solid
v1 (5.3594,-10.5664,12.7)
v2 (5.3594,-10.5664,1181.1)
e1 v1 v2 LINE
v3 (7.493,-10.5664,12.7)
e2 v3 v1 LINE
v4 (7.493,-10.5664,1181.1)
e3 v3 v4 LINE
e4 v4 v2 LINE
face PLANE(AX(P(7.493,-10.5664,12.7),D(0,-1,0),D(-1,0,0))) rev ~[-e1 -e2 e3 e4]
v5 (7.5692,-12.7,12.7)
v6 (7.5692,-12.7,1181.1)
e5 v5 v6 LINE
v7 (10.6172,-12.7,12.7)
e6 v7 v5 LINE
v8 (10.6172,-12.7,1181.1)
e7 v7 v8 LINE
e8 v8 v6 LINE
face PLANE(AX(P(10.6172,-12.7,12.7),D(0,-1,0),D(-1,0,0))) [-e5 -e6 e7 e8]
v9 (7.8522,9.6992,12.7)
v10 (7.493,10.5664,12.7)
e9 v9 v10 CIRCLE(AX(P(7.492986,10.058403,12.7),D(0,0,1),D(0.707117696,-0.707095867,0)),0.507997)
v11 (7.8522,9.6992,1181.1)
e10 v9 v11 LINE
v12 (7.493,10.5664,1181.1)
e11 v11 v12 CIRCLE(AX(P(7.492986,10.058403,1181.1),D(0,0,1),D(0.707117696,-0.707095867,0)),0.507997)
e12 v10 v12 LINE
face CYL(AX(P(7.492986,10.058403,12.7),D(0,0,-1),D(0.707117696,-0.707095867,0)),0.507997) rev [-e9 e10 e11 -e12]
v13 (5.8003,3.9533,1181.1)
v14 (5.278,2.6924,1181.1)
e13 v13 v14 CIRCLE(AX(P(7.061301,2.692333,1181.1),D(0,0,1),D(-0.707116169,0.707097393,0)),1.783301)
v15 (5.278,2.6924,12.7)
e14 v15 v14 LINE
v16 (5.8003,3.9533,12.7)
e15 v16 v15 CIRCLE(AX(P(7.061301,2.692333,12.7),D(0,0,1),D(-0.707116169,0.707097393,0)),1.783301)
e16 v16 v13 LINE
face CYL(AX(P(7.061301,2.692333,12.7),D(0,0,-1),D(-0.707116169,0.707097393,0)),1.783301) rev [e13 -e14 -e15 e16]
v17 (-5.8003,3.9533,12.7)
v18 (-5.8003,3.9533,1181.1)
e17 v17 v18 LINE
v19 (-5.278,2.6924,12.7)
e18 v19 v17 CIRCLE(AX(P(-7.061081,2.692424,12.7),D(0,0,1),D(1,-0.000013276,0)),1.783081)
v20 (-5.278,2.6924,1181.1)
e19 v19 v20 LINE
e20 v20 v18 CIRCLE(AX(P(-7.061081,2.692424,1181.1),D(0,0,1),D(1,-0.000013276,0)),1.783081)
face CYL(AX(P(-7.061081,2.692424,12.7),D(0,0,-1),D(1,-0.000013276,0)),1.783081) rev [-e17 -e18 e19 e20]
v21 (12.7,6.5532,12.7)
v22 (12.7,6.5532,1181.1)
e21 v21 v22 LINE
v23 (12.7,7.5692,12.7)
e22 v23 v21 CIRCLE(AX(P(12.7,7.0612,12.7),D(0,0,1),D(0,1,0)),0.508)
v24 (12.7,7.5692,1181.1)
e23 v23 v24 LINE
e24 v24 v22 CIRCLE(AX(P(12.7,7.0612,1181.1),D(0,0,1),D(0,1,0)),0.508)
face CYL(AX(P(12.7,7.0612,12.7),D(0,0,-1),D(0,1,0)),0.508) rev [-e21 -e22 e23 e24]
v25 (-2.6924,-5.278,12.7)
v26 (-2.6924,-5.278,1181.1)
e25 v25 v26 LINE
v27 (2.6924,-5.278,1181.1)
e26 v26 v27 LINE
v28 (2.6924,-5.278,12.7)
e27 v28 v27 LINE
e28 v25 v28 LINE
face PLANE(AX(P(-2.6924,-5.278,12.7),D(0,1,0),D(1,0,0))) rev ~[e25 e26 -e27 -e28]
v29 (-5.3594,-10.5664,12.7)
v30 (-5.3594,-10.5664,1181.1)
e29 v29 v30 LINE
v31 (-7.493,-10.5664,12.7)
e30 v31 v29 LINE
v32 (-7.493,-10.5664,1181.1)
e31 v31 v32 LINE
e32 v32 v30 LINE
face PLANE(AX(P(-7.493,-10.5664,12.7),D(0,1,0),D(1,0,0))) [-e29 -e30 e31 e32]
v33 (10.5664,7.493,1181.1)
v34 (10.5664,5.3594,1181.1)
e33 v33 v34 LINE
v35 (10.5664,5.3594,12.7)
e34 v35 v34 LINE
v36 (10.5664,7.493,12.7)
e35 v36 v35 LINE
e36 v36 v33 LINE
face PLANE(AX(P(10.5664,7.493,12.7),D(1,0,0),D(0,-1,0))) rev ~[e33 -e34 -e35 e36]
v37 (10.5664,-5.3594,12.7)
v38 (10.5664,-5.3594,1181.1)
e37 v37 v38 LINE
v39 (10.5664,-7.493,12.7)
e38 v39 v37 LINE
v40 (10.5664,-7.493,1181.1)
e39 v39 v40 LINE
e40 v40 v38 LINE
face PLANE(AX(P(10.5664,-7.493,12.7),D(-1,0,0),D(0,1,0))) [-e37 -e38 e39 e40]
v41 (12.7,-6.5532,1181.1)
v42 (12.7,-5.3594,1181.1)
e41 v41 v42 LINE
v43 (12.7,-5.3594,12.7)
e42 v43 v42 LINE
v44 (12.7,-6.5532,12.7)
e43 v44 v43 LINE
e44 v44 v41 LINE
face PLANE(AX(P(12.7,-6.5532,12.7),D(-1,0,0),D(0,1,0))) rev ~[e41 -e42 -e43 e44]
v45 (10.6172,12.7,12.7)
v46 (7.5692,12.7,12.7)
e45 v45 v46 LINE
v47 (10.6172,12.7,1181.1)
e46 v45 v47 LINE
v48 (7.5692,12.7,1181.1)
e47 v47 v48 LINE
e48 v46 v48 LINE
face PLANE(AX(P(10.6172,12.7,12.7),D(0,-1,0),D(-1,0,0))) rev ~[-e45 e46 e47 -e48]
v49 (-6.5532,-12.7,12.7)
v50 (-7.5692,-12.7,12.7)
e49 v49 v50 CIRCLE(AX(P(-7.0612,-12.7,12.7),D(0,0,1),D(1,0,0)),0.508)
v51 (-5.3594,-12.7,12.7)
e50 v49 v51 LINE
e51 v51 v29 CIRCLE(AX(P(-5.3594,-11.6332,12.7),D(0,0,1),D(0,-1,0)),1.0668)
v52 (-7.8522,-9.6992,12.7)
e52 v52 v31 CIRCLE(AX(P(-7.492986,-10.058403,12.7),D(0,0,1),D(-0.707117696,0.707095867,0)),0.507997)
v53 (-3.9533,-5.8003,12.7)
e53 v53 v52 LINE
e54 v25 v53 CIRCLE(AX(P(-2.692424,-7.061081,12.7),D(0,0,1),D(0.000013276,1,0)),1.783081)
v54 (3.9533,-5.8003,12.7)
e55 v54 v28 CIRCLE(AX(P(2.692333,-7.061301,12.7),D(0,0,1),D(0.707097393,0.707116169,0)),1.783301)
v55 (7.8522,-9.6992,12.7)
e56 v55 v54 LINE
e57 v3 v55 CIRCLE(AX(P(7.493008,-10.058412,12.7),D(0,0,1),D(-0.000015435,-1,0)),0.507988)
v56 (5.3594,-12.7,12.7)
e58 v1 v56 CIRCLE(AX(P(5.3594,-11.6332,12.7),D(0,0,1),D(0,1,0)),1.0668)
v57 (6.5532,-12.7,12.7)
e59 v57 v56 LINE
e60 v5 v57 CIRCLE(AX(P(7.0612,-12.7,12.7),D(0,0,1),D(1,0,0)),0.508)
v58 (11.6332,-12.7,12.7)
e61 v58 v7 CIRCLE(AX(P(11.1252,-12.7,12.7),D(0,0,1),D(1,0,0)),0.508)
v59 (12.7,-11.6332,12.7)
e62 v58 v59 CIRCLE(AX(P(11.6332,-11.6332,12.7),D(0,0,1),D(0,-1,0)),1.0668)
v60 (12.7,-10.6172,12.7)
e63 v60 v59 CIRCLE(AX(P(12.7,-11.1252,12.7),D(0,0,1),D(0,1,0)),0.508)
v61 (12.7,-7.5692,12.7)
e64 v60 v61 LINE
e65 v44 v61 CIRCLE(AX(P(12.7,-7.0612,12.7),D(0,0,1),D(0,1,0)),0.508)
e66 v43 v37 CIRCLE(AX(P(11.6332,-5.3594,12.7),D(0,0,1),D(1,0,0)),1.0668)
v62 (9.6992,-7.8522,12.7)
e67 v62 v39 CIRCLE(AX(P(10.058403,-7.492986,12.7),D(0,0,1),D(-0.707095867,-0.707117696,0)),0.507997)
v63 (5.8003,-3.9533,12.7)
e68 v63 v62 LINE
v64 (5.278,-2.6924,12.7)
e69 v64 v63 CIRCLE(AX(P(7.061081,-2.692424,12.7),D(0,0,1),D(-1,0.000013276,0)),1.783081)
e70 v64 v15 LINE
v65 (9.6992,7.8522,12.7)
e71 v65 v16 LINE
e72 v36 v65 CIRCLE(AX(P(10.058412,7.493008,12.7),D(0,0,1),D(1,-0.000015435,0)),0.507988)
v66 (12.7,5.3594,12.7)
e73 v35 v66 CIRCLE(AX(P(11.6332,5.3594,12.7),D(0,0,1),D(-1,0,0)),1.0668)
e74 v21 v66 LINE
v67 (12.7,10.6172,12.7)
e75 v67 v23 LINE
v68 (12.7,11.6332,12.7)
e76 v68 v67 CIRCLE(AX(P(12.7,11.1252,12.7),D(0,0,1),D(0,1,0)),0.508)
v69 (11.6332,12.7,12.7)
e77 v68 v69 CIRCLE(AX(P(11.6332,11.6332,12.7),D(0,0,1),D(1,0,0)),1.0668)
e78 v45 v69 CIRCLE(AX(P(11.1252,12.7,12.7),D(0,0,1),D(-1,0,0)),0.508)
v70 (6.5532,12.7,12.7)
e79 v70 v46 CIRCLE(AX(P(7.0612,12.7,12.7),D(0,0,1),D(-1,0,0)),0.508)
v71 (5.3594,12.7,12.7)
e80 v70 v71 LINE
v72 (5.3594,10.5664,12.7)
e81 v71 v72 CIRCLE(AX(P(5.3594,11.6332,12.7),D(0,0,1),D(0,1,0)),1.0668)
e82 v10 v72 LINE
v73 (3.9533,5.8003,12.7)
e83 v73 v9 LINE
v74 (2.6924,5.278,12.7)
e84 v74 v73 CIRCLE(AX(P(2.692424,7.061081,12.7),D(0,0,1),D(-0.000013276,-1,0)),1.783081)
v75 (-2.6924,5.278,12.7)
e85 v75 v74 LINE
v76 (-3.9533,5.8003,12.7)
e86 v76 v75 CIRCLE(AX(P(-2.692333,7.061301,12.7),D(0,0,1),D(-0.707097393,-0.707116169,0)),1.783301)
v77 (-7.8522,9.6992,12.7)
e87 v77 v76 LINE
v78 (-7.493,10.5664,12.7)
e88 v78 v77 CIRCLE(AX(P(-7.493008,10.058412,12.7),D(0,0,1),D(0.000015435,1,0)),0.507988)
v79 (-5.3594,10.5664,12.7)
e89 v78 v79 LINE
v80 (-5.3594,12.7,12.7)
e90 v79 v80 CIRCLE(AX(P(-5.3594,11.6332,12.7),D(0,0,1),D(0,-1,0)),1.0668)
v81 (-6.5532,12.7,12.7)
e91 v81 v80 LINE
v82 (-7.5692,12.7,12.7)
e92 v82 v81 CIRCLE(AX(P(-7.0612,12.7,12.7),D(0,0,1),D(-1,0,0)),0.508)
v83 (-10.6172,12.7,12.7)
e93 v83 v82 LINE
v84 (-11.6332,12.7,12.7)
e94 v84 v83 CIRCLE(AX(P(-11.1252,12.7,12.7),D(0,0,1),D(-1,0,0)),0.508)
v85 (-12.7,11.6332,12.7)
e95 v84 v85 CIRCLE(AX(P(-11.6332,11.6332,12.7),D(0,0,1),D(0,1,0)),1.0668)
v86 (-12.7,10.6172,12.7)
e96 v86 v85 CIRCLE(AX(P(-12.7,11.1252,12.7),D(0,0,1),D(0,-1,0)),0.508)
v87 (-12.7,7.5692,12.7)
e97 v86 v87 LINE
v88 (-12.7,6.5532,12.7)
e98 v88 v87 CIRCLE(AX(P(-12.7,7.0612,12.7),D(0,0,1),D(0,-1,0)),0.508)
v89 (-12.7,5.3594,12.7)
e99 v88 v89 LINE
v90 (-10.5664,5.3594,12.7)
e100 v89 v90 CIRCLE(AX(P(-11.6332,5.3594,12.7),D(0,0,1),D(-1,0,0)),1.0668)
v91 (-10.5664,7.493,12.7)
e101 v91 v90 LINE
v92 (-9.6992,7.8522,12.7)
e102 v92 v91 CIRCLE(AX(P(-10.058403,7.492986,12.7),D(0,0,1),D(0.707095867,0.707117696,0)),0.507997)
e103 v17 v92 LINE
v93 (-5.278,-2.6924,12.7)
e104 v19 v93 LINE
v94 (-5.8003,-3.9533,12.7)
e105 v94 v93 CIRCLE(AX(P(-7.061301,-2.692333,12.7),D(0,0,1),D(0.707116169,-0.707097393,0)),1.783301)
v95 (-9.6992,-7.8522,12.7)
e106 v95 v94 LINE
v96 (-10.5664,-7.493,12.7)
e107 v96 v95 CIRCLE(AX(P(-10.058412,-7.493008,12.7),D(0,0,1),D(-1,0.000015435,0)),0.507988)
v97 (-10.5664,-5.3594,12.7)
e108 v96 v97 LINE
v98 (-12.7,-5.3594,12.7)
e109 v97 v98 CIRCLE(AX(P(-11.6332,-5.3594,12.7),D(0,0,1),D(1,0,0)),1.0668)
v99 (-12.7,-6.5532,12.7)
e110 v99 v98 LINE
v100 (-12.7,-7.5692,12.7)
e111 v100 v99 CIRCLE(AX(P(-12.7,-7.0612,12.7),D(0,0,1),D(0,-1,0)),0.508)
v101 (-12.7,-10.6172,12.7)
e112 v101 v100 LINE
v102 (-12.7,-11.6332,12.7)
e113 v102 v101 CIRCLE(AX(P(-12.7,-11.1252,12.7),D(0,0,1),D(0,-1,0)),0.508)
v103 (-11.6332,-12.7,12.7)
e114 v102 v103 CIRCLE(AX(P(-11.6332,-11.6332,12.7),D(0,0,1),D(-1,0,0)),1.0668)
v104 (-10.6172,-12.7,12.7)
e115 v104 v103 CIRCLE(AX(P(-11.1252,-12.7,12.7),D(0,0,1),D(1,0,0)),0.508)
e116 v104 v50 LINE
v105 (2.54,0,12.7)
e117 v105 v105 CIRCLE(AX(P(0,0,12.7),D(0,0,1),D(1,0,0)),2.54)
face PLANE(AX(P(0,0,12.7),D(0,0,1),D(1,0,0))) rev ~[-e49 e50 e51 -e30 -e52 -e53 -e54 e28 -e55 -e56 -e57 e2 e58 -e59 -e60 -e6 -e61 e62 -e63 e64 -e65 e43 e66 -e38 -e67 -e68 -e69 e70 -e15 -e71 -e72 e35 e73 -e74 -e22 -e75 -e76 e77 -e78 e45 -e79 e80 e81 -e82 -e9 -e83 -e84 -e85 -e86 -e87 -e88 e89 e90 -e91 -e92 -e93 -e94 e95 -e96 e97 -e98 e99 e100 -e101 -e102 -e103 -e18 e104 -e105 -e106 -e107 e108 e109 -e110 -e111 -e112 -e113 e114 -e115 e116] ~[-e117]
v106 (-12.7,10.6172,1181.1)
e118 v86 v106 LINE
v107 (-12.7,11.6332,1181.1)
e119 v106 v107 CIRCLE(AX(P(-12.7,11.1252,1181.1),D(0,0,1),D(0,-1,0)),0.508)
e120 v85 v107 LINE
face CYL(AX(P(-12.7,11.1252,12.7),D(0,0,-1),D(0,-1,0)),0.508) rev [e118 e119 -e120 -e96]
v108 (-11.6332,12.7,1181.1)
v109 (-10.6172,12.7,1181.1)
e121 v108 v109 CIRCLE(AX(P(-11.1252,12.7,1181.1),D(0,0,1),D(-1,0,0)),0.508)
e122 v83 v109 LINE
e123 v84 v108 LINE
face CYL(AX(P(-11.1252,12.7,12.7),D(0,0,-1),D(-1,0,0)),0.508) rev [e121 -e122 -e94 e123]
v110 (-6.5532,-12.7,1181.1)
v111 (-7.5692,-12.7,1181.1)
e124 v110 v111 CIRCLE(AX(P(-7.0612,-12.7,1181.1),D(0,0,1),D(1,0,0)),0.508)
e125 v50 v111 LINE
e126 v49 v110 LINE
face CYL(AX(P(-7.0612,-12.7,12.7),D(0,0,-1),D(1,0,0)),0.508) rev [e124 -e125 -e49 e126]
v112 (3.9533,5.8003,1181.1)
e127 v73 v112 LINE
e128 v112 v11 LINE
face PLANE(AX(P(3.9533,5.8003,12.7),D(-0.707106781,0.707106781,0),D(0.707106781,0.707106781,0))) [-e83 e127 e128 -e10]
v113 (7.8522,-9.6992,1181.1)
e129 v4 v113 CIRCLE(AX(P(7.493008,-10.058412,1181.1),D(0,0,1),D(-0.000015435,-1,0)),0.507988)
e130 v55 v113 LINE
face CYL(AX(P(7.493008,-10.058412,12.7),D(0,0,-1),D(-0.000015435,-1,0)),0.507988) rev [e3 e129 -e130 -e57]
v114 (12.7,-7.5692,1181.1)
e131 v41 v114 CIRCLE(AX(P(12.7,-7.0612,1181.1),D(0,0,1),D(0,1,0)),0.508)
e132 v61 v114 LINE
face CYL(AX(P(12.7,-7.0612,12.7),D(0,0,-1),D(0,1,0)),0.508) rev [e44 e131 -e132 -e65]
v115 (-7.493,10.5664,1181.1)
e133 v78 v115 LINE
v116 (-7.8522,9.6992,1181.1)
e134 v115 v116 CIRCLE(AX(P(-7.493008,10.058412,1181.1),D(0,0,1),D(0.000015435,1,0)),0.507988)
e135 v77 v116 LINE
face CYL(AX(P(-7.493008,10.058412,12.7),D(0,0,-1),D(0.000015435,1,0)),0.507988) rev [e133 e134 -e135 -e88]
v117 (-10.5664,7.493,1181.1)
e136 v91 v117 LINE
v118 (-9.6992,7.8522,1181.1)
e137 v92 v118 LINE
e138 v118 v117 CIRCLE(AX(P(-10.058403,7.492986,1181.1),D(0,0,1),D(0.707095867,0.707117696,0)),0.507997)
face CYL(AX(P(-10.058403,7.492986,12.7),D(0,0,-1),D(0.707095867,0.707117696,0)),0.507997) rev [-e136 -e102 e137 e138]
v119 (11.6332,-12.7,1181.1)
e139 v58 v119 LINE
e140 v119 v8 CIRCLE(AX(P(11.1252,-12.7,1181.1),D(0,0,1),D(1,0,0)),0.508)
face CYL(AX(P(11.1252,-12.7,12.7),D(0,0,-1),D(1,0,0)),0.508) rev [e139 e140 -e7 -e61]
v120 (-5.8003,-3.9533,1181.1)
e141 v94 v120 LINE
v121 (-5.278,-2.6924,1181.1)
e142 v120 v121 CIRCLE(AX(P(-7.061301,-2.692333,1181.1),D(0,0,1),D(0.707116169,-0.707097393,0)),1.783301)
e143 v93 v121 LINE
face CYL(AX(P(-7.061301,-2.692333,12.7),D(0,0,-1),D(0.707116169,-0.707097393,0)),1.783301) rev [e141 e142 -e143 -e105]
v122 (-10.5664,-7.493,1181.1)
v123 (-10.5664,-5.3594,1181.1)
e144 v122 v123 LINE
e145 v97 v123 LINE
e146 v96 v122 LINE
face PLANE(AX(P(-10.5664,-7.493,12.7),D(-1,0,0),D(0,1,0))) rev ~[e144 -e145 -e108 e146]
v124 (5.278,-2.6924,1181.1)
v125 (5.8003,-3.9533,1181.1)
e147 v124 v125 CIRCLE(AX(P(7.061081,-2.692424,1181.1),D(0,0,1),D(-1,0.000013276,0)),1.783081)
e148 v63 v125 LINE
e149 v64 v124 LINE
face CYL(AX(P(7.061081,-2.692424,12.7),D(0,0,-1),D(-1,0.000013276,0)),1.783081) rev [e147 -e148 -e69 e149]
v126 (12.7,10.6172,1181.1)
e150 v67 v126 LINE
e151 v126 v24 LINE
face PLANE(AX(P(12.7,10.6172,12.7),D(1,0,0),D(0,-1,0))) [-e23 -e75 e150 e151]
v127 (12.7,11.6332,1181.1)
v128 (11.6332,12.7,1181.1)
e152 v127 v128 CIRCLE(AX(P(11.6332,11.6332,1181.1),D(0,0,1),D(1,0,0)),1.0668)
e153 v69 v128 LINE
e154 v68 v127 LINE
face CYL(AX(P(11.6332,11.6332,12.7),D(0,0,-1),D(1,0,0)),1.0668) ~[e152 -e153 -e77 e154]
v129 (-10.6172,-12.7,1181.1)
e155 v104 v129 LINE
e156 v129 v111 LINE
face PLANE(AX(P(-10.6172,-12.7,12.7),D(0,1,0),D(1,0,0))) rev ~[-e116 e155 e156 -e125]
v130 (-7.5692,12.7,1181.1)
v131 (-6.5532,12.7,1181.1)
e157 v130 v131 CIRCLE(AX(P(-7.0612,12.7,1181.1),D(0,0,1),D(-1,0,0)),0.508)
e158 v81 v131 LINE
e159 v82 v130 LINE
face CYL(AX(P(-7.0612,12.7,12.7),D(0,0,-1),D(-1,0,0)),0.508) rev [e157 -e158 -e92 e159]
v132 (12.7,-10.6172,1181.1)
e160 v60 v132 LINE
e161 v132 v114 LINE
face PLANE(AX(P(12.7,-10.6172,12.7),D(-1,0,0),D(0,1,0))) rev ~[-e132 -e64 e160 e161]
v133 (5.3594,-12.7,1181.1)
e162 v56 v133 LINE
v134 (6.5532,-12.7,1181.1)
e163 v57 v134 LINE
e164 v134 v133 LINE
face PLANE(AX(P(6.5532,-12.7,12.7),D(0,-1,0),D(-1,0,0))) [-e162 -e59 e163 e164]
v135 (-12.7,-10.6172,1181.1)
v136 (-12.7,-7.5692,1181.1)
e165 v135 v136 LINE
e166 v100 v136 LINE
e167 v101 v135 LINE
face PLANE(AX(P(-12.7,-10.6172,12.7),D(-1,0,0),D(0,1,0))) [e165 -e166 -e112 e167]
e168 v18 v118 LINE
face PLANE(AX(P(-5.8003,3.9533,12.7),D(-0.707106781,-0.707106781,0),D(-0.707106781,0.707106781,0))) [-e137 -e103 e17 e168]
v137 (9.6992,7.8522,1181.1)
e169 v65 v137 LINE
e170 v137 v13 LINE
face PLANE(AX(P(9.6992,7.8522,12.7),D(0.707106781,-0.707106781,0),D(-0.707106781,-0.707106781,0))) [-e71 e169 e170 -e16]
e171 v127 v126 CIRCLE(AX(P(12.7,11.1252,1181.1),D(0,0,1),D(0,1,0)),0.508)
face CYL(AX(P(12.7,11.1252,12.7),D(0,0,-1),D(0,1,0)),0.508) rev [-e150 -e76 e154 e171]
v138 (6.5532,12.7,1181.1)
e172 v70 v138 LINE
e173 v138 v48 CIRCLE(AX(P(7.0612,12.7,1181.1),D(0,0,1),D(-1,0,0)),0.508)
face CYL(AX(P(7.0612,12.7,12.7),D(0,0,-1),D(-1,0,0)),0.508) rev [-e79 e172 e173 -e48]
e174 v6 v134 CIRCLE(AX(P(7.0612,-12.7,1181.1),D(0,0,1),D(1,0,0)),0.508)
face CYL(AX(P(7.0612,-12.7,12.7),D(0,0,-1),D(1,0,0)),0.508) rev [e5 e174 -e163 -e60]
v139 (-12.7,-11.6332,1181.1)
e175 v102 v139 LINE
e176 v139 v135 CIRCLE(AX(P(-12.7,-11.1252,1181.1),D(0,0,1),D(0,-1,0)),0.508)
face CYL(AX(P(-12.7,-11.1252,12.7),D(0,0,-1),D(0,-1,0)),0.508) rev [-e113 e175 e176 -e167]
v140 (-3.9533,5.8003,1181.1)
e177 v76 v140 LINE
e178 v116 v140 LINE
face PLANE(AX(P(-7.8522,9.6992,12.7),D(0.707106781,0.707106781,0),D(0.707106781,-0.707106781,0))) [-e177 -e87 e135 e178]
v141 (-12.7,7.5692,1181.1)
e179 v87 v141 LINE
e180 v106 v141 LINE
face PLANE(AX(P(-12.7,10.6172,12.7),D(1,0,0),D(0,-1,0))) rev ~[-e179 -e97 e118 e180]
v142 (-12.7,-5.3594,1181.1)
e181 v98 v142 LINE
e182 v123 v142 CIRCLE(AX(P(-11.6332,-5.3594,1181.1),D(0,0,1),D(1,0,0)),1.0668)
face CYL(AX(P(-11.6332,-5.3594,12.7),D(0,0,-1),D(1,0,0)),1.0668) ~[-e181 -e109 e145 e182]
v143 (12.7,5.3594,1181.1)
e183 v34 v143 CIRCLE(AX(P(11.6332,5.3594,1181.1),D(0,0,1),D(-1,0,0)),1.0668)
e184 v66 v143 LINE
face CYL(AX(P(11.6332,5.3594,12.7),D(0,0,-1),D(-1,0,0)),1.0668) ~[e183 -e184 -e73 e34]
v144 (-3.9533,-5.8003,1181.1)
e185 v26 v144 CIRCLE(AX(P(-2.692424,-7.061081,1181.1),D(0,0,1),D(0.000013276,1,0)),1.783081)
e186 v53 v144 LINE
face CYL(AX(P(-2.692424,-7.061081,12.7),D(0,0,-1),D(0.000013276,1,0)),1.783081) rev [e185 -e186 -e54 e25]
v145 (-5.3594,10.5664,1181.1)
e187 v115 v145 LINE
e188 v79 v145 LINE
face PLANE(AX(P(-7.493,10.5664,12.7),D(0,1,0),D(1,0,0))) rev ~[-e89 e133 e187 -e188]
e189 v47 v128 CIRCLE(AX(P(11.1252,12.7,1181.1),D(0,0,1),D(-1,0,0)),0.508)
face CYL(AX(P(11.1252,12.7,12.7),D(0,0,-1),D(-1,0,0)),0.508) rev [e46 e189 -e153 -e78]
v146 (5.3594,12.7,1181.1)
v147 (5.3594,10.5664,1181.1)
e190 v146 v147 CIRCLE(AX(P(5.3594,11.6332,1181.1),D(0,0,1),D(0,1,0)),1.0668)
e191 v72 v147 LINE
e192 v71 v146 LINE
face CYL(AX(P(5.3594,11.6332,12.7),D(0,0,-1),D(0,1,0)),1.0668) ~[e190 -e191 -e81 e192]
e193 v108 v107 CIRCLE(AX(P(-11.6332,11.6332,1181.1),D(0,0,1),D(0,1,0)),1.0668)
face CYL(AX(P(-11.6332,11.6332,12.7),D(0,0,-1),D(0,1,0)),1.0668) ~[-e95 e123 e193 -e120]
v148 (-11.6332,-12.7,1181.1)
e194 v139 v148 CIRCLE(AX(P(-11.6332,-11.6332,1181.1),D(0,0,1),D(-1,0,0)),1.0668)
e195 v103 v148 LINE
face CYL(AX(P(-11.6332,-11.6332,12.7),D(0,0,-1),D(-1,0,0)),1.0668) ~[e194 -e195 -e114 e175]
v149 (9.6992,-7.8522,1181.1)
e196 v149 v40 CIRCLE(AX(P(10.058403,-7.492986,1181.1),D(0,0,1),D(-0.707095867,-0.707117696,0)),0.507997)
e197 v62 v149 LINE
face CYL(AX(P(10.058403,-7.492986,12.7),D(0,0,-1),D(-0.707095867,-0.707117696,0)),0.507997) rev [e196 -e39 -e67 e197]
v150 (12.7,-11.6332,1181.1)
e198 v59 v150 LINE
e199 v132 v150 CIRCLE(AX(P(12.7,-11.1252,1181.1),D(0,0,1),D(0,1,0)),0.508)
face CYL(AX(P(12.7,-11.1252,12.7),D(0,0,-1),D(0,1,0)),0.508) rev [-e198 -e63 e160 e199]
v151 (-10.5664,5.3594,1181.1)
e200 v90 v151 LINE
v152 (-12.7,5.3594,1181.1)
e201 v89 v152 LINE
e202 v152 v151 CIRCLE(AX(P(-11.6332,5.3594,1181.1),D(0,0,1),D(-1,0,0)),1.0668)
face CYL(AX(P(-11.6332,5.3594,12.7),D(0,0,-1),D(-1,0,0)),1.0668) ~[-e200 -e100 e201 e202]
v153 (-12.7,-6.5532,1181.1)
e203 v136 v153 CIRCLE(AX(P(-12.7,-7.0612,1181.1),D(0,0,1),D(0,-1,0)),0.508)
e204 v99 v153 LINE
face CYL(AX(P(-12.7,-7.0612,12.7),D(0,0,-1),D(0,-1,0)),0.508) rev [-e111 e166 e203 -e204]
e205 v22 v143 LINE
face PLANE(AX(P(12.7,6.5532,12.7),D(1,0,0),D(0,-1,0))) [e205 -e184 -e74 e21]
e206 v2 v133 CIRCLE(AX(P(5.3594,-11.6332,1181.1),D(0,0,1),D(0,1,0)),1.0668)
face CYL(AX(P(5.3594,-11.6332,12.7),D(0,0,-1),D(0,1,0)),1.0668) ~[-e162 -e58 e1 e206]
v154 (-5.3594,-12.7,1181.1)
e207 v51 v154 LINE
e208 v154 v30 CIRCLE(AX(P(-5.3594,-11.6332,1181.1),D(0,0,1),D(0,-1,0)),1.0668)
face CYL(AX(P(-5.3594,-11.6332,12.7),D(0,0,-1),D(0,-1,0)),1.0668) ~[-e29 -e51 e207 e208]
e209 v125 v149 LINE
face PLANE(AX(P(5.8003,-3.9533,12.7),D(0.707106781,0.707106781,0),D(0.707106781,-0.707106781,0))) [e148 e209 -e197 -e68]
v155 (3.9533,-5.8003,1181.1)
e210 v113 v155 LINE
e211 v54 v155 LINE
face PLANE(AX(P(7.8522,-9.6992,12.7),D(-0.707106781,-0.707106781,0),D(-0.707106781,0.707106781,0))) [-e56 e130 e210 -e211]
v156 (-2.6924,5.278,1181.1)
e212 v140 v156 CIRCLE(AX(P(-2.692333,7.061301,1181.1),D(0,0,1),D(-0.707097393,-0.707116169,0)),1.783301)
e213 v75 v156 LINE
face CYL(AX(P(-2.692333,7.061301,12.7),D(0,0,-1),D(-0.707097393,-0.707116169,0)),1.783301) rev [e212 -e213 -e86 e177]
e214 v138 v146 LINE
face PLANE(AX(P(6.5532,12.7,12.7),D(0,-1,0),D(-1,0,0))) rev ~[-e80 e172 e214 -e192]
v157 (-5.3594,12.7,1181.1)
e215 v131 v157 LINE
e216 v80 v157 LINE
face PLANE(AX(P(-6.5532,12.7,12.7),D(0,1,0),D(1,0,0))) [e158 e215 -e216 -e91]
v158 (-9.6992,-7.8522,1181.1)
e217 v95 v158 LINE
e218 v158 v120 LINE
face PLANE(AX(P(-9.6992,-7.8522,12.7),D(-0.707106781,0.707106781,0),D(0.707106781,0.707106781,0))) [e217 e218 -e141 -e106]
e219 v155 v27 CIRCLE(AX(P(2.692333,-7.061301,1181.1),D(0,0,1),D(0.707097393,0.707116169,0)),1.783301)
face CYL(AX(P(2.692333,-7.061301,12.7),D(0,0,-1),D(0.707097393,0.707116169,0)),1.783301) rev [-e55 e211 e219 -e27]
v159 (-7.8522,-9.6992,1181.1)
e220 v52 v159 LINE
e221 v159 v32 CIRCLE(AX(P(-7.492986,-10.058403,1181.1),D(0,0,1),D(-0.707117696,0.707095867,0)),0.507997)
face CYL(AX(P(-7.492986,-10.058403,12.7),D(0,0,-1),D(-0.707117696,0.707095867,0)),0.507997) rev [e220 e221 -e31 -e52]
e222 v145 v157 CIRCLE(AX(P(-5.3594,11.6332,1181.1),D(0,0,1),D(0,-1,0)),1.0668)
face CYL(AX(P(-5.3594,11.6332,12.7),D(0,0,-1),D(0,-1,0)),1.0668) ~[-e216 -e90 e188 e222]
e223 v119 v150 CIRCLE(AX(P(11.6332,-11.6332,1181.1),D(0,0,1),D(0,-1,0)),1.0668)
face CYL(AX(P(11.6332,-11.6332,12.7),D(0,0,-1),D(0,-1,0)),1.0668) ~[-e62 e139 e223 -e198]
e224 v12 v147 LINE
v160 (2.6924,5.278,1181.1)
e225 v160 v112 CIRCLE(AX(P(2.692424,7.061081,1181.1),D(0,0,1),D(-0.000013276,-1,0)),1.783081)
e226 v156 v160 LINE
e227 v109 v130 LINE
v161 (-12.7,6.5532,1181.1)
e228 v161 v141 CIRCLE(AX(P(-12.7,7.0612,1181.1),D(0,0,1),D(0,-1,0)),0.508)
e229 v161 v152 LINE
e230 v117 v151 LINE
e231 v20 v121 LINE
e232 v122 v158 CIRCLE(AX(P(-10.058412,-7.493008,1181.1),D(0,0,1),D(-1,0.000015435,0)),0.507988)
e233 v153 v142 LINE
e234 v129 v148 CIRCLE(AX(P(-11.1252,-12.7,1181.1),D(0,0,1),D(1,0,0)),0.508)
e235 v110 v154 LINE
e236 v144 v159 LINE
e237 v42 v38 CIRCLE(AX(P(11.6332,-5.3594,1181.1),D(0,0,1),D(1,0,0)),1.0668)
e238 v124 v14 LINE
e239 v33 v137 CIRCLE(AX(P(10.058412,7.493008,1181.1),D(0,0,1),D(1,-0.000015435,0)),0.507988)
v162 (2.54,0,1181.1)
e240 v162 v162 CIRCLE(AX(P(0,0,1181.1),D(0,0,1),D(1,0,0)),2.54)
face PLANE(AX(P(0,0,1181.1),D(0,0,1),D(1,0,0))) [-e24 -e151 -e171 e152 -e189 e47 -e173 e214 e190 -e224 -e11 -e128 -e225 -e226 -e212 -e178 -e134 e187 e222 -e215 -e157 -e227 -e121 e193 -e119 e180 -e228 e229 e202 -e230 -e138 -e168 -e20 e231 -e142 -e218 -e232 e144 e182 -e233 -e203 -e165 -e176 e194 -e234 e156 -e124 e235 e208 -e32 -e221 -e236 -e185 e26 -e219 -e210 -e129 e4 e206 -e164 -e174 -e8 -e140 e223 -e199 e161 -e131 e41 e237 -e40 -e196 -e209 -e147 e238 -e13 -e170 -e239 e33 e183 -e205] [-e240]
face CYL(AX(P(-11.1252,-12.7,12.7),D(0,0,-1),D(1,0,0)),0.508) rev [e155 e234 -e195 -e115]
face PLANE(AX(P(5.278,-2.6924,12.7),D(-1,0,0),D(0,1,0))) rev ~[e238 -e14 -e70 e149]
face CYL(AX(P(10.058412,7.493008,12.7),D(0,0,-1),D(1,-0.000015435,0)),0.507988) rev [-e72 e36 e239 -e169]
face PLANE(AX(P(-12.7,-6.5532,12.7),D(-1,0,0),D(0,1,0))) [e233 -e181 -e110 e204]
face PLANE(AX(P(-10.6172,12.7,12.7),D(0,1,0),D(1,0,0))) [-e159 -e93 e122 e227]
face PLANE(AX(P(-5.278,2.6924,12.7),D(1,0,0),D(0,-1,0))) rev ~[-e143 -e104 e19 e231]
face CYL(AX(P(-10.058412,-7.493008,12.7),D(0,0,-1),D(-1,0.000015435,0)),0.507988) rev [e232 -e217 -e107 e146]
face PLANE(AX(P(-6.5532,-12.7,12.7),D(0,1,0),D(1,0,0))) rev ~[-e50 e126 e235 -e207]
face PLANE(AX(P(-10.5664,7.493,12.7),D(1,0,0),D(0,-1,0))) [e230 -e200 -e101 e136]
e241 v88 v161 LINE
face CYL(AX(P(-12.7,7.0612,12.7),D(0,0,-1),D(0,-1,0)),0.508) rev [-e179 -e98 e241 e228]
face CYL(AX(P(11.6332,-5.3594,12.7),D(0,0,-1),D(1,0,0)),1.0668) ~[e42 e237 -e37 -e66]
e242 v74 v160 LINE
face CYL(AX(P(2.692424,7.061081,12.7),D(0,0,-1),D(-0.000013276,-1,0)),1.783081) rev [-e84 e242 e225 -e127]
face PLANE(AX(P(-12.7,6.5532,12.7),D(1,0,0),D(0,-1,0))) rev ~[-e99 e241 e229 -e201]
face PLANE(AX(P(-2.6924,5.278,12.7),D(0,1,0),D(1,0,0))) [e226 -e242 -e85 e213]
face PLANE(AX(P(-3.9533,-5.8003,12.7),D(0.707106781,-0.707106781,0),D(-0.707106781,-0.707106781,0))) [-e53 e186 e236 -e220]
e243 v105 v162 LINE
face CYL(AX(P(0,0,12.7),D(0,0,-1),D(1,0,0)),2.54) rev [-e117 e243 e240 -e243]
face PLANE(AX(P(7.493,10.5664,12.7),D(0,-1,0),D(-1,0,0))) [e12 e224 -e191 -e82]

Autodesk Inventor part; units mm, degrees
ref_plane "Start Plane" through (0, 0, 12.7) normal (0, 0, 1) x (1, 0, 0)
ref_plane "End Plane" through (0, 0, 1181.1) normal (0, 0, 1) x (1, 0, 0)
sketch "Sketch" plane through (0, 0, 0) normal (0, 0, 1) x (1, 0, 0)
  arc A0 (-11.6332, 12.7) -> (-12.7, 11.6332) centre (-11.6332, 11.6332) ccw
  arc A1 (-5.3594, 10.5664) -> (-5.3594, 12.7) centre (-5.3594, 11.6332) ccw
  arc A2 (-12.7, 5.3594) -> (-10.5664, 5.3594) centre (-11.6332, 5.3594) ccw
  line L0 (-10.5664, 7.493) -> (-10.5664, 5.3594)
  line L1 (-7.493, 10.5664) -> (-5.3594, 10.5664)
  arc A3 (-9.6992, 7.8522) -> (-10.5664, 7.493) centre (-10.0584, 7.493) ccw
  arc A4 (-7.493, 10.5664) -> (-7.8522, 9.6992) centre (-7.493, 10.0584) ccw
  line L2 (-11.6332, 11.6332) -> (0, 0) construction
  line L3 (-5.8003, 3.9533) -> (-9.6992, 7.8522)
  line L4 (-7.8522, 9.6992) -> (-3.9533, 5.8003)
  arc A5 (-3.9533, 5.8003) -> (-2.6924, 5.278) centre (-2.6924, 7.0612) ccw
  arc A6 (-5.278, 2.6924) -> (-5.8003, 3.9533) centre (-7.0612, 2.6924) ccw
  arc A7 (0, 2.54) -> (-2.54, 0) centre (0, 0) ccw construction
  line L5 (0, 0) -> (-12.7, 0) construction
  line L6 (0, 12.7) -> (0, 0) construction
  arc A8 (-11.6332, 12.7) -> (-10.6172, 12.7) centre (-11.1252, 12.7) ccw
  arc A9 (-7.5692, 12.7) -> (-6.5532, 12.7) centre (-7.0612, 12.7) ccw
  arc A10 (-12.7, 10.6172) -> (-12.7, 11.6332) centre (-12.7, 11.1252) ccw
  arc A11 (-12.7, 6.5532) -> (-12.7, 7.5692) centre (-12.7, 7.0612) ccw
  line L7 (-12.7, 10.6172) -> (-12.7, 7.5692)
  line L8 (-12.7, 6.5532) -> (-12.7, 5.3594)
  line L9 (-10.6172, 12.7) -> (-7.5692, 12.7)
  line L10 (-6.5532, 12.7) -> (-5.3594, 12.7)
  circle A12 centre (0, 0) radius 2.54
  arc A13 (-12.7, -11.6332) -> (-11.6332, -12.7) centre (-11.6332, -11.6332) ccw
  line L11 (-12.7, -10.6172) -> (-12.7, -7.5692)
  arc A14 (-10.5664, -7.493) -> (-9.6992, -7.8522) centre (-10.0584, -7.493) ccw
  line L12 (-9.6992, -7.8522) -> (-5.8003, -3.9533)
  line L13 (-11.6332, -11.6332) -> (0, 0) construction
  line L14 (-3.9533, -5.8003) -> (-7.8522, -9.6992)
  arc A15 (-7.8522, -9.6992) -> (-7.493, -10.5664) centre (-7.493, -10.0584) ccw
  line L15 (-10.6172, -12.7) -> (-7.5692, -12.7)
  line L16 (-7.493, -10.5664) -> (-5.3594, -10.5664)
  arc A16 (-6.5532, -12.7) -> (-7.5692, -12.7) centre (-7.0612, -12.7) ccw
  line L17 (-6.5532, -12.7) -> (-5.3594, -12.7)
  arc A17 (-5.3594, -12.7) -> (-5.3594, -10.5664) centre (-5.3594, -11.6332) ccw
  arc A18 (-10.6172, -12.7) -> (-11.6332, -12.7) centre (-11.1252, -12.7) ccw
  arc A19 (-12.7, -11.6332) -> (-12.7, -10.6172) centre (-12.7, -11.1252) ccw
  arc A20 (-2.6924, -5.278) -> (-3.9533, -5.8003) centre (-2.6924, -7.0612) ccw
  arc A21 (-5.8003, -3.9533) -> (-5.278, -2.6924) centre (-7.0612, -2.6924) ccw
  line L18 (-10.5664, -7.493) -> (-10.5664, -5.3594)
  line L19 (-12.7, -6.5532) -> (-12.7, -5.3594)
  arc A22 (-10.5664, -5.3594) -> (-12.7, -5.3594) centre (-11.6332, -5.3594) ccw
  arc A23 (-12.7, -7.5692) -> (-12.7, -6.5532) centre (-12.7, -7.0612) ccw
  arc A24 (11.6332, -12.7) -> (12.7, -11.6332) centre (11.6332, -11.6332) ccw
  line L20 (10.6172, -12.7) -> (7.5692, -12.7)
  arc A25 (7.493, -10.5664) -> (7.8522, -9.6992) centre (7.493, -10.0584) ccw
  line L21 (7.8522, -9.6992) -> (3.9533, -5.8003)
  line L22 (11.6332, -11.6332) -> (0, 0) construction
  line L23 (5.8003, -3.9533) -> (9.6992, -7.8522)
  arc A26 (9.6992, -7.8522) -> (10.5664, -7.493) centre (10.0584, -7.493) ccw
  line L24 (12.7, -10.6172) -> (12.7, -7.5692)
  line L25 (10.5664, -7.493) -> (10.5664, -5.3594)
  arc A27 (12.7, -6.5532) -> (12.7, -7.5692) centre (12.7, -7.0612) ccw
  line L26 (12.7, -6.5532) -> (12.7, -5.3594)
  arc A28 (12.7, -5.3594) -> (10.5664, -5.3594) centre (11.6332, -5.3594) ccw
  arc A29 (12.7, -10.6172) -> (12.7, -11.6332) centre (12.7, -11.1252) ccw
  arc A30 (11.6332, -12.7) -> (10.6172, -12.7) centre (11.1252, -12.7) ccw
  arc A31 (5.278, -2.6924) -> (5.8003, -3.9533) centre (7.0612, -2.6924) ccw
  arc A32 (3.9533, -5.8003) -> (2.6924, -5.278) centre (2.6924, -7.0612) ccw
  line L27 (7.493, -10.5664) -> (5.3594, -10.5664)
  line L28 (6.5532, -12.7) -> (5.3594, -12.7)
  arc A33 (5.3594, -10.5664) -> (5.3594, -12.7) centre (5.3594, -11.6332) ccw
  arc A34 (7.5692, -12.7) -> (6.5532, -12.7) centre (7.0612, -12.7) ccw
  arc A35 (12.7, 11.6332) -> (11.6332, 12.7) centre (11.6332, 11.6332) ccw
  line L29 (12.7, 10.6172) -> (12.7, 7.5692)
  arc A36 (10.5664, 7.493) -> (9.6992, 7.8522) centre (10.0584, 7.493) ccw
  line L30 (9.6992, 7.8522) -> (5.8003, 3.9533)
  line L31 (11.6332, 11.6332) -> (0, 0) construction
  line L32 (3.9533, 5.8003) -> (7.8522, 9.6992)
  arc A37 (7.8522, 9.6992) -> (7.493, 10.5664) centre (7.493, 10.0584) ccw
  line L33 (10.6172, 12.7) -> (7.5692, 12.7)
  line L34 (7.493, 10.5664) -> (5.3594, 10.5664)
  arc A38 (6.5532, 12.7) -> (7.5692, 12.7) centre (7.0612, 12.7) ccw
  line L35 (6.5532, 12.7) -> (5.3594, 12.7)
  arc A39 (5.3594, 12.7) -> (5.3594, 10.5664) centre (5.3594, 11.6332) ccw
  arc A40 (10.6172, 12.7) -> (11.6332, 12.7) centre (11.1252, 12.7) ccw
  arc A41 (12.7, 11.6332) -> (12.7, 10.6172) centre (12.7, 11.1252) ccw
  arc A42 (2.6924, 5.278) -> (3.9533, 5.8003) centre (2.6924, 7.0612) ccw
  arc A43 (5.8003, 3.9533) -> (5.278, 2.6924) centre (7.0612, 2.6924) ccw
  line L36 (10.5664, 7.493) -> (10.5664, 5.3594)
  line L37 (12.7, 6.5532) -> (12.7, 5.3594)
  arc A44 (10.5664, 5.3594) -> (12.7, 5.3594) centre (11.6332, 5.3594) ccw
  arc A45 (12.7, 7.5692) -> (12.7, 6.5532) centre (12.7, 7.0612) ccw
  line L38 (-2.6924, 5.278) -> (2.6924, 5.278)
  line L39 (-5.278, 2.6924) -> (-5.278, -2.6924)
  line L40 (-2.6924, -5.278) -> (2.6924, -5.278)
  line L41 (5.278, -2.6924) -> (5.278, 2.6924)
  point P0 (0, 0)
  point P1 (0, 0)
  dimension "d2" = 2.1336
  dimension "d3" = 6.2738
  dimension "d4" = 6.2738
  dimension "d5" = 1.0668
  dimension "d6" = 2.1336
  dimension "d7" = 2.1336
  dimension "d8" = 1.016
  dimension "d9" = 1.016
  dimension "d10" = 135
  dimension "d11" = 2.667
  dimension "d12" = 4.572
  dimension "d13" = 4.572
  dimension "d14" = 2.667
  dimension "d15" = 5.08
  dimension "d16" = 45
  dimension "d19" = 45
  dimension "d20" = 0.508
  dimension "d21" = 4.572
  dimension "d22" = 1.016
  dimension "d23" = 4.572
  dimension "d24" = 1.016
  dimension "d25" = 0.508
  dimension "d26" = 0.508
  dimension "d27" = 0.508
  dimension "d28" = 12.7
  dimension "d37" = 360
  dimension "d47" = 10.5664
  dimension "d48" = 12.7
extrude "Body" add sketch "Sketch" along normal up to surface (1168.4 mm away) from surface at 12.7
sketch "Sketch2" plane through (0, 0, 0) normal (0, 0, 1) x (1, 0, 0)
  line L0 (0, 0) -> (10, 0)
ref_plane "Work Plane3" through (0, 0, 0) normal (0, -1, 0) x (1, 0, 0)
sketch "Sketch3" plane through (0, 0, 0) normal (0, -1, 0) x (1, 0, 0)
  line L0 (-2, 12.7) -> (12, 12.7)
  line L1 (-2, 1181.1) -> (12, 1181.1)
  dimension "d60" = 1168.4
ref_plane "Work Plane4" through (10.6172, -279.4, 12.7) normal (0, 0, -1) x (-1, 0, 0)
split "Split1" plane through (10.6172, -279.4, 12.7) removes the side toward (0, 0, -1)
ref_plane "Work Plane5" through (-7.5692, 0, 1181.1) normal (0, 0, 1) x (1, 0, 0)
split "Split2" plane through (-7.5692, 0, 1181.1) removes the side toward (0, 0, 1)
equation "\"d3\" = d4"
equation "\"d6\" = d7"
equation "\"d11\" = d14"
equation "\"d12\" = d13"
equation "\"d23\" = d21"
equation "\"d24\" = d30"
equation "\"d26\" = 0.5 * d24"
equation "\"d27\" = 0.5 * d22"
equation "\"Width\" = 2 * d28"
equation "\"Height\" = 2 * d48"
equation "\"G_OFFSET_START\" = -12.7"
equation "\"G_OFFSET_END\" = -12.7"
equation "\"d55\" = -G_OFFSET_START"
equation "\"d56\" = Length + G_OFFSET_END"
equation "\"G_L\" = 1193.8"
equation "\"d30\" = 1.016"
equation "\"Length\" = 1193.8"
properties part number "1010_80_20" material "Aluminum-6061"
